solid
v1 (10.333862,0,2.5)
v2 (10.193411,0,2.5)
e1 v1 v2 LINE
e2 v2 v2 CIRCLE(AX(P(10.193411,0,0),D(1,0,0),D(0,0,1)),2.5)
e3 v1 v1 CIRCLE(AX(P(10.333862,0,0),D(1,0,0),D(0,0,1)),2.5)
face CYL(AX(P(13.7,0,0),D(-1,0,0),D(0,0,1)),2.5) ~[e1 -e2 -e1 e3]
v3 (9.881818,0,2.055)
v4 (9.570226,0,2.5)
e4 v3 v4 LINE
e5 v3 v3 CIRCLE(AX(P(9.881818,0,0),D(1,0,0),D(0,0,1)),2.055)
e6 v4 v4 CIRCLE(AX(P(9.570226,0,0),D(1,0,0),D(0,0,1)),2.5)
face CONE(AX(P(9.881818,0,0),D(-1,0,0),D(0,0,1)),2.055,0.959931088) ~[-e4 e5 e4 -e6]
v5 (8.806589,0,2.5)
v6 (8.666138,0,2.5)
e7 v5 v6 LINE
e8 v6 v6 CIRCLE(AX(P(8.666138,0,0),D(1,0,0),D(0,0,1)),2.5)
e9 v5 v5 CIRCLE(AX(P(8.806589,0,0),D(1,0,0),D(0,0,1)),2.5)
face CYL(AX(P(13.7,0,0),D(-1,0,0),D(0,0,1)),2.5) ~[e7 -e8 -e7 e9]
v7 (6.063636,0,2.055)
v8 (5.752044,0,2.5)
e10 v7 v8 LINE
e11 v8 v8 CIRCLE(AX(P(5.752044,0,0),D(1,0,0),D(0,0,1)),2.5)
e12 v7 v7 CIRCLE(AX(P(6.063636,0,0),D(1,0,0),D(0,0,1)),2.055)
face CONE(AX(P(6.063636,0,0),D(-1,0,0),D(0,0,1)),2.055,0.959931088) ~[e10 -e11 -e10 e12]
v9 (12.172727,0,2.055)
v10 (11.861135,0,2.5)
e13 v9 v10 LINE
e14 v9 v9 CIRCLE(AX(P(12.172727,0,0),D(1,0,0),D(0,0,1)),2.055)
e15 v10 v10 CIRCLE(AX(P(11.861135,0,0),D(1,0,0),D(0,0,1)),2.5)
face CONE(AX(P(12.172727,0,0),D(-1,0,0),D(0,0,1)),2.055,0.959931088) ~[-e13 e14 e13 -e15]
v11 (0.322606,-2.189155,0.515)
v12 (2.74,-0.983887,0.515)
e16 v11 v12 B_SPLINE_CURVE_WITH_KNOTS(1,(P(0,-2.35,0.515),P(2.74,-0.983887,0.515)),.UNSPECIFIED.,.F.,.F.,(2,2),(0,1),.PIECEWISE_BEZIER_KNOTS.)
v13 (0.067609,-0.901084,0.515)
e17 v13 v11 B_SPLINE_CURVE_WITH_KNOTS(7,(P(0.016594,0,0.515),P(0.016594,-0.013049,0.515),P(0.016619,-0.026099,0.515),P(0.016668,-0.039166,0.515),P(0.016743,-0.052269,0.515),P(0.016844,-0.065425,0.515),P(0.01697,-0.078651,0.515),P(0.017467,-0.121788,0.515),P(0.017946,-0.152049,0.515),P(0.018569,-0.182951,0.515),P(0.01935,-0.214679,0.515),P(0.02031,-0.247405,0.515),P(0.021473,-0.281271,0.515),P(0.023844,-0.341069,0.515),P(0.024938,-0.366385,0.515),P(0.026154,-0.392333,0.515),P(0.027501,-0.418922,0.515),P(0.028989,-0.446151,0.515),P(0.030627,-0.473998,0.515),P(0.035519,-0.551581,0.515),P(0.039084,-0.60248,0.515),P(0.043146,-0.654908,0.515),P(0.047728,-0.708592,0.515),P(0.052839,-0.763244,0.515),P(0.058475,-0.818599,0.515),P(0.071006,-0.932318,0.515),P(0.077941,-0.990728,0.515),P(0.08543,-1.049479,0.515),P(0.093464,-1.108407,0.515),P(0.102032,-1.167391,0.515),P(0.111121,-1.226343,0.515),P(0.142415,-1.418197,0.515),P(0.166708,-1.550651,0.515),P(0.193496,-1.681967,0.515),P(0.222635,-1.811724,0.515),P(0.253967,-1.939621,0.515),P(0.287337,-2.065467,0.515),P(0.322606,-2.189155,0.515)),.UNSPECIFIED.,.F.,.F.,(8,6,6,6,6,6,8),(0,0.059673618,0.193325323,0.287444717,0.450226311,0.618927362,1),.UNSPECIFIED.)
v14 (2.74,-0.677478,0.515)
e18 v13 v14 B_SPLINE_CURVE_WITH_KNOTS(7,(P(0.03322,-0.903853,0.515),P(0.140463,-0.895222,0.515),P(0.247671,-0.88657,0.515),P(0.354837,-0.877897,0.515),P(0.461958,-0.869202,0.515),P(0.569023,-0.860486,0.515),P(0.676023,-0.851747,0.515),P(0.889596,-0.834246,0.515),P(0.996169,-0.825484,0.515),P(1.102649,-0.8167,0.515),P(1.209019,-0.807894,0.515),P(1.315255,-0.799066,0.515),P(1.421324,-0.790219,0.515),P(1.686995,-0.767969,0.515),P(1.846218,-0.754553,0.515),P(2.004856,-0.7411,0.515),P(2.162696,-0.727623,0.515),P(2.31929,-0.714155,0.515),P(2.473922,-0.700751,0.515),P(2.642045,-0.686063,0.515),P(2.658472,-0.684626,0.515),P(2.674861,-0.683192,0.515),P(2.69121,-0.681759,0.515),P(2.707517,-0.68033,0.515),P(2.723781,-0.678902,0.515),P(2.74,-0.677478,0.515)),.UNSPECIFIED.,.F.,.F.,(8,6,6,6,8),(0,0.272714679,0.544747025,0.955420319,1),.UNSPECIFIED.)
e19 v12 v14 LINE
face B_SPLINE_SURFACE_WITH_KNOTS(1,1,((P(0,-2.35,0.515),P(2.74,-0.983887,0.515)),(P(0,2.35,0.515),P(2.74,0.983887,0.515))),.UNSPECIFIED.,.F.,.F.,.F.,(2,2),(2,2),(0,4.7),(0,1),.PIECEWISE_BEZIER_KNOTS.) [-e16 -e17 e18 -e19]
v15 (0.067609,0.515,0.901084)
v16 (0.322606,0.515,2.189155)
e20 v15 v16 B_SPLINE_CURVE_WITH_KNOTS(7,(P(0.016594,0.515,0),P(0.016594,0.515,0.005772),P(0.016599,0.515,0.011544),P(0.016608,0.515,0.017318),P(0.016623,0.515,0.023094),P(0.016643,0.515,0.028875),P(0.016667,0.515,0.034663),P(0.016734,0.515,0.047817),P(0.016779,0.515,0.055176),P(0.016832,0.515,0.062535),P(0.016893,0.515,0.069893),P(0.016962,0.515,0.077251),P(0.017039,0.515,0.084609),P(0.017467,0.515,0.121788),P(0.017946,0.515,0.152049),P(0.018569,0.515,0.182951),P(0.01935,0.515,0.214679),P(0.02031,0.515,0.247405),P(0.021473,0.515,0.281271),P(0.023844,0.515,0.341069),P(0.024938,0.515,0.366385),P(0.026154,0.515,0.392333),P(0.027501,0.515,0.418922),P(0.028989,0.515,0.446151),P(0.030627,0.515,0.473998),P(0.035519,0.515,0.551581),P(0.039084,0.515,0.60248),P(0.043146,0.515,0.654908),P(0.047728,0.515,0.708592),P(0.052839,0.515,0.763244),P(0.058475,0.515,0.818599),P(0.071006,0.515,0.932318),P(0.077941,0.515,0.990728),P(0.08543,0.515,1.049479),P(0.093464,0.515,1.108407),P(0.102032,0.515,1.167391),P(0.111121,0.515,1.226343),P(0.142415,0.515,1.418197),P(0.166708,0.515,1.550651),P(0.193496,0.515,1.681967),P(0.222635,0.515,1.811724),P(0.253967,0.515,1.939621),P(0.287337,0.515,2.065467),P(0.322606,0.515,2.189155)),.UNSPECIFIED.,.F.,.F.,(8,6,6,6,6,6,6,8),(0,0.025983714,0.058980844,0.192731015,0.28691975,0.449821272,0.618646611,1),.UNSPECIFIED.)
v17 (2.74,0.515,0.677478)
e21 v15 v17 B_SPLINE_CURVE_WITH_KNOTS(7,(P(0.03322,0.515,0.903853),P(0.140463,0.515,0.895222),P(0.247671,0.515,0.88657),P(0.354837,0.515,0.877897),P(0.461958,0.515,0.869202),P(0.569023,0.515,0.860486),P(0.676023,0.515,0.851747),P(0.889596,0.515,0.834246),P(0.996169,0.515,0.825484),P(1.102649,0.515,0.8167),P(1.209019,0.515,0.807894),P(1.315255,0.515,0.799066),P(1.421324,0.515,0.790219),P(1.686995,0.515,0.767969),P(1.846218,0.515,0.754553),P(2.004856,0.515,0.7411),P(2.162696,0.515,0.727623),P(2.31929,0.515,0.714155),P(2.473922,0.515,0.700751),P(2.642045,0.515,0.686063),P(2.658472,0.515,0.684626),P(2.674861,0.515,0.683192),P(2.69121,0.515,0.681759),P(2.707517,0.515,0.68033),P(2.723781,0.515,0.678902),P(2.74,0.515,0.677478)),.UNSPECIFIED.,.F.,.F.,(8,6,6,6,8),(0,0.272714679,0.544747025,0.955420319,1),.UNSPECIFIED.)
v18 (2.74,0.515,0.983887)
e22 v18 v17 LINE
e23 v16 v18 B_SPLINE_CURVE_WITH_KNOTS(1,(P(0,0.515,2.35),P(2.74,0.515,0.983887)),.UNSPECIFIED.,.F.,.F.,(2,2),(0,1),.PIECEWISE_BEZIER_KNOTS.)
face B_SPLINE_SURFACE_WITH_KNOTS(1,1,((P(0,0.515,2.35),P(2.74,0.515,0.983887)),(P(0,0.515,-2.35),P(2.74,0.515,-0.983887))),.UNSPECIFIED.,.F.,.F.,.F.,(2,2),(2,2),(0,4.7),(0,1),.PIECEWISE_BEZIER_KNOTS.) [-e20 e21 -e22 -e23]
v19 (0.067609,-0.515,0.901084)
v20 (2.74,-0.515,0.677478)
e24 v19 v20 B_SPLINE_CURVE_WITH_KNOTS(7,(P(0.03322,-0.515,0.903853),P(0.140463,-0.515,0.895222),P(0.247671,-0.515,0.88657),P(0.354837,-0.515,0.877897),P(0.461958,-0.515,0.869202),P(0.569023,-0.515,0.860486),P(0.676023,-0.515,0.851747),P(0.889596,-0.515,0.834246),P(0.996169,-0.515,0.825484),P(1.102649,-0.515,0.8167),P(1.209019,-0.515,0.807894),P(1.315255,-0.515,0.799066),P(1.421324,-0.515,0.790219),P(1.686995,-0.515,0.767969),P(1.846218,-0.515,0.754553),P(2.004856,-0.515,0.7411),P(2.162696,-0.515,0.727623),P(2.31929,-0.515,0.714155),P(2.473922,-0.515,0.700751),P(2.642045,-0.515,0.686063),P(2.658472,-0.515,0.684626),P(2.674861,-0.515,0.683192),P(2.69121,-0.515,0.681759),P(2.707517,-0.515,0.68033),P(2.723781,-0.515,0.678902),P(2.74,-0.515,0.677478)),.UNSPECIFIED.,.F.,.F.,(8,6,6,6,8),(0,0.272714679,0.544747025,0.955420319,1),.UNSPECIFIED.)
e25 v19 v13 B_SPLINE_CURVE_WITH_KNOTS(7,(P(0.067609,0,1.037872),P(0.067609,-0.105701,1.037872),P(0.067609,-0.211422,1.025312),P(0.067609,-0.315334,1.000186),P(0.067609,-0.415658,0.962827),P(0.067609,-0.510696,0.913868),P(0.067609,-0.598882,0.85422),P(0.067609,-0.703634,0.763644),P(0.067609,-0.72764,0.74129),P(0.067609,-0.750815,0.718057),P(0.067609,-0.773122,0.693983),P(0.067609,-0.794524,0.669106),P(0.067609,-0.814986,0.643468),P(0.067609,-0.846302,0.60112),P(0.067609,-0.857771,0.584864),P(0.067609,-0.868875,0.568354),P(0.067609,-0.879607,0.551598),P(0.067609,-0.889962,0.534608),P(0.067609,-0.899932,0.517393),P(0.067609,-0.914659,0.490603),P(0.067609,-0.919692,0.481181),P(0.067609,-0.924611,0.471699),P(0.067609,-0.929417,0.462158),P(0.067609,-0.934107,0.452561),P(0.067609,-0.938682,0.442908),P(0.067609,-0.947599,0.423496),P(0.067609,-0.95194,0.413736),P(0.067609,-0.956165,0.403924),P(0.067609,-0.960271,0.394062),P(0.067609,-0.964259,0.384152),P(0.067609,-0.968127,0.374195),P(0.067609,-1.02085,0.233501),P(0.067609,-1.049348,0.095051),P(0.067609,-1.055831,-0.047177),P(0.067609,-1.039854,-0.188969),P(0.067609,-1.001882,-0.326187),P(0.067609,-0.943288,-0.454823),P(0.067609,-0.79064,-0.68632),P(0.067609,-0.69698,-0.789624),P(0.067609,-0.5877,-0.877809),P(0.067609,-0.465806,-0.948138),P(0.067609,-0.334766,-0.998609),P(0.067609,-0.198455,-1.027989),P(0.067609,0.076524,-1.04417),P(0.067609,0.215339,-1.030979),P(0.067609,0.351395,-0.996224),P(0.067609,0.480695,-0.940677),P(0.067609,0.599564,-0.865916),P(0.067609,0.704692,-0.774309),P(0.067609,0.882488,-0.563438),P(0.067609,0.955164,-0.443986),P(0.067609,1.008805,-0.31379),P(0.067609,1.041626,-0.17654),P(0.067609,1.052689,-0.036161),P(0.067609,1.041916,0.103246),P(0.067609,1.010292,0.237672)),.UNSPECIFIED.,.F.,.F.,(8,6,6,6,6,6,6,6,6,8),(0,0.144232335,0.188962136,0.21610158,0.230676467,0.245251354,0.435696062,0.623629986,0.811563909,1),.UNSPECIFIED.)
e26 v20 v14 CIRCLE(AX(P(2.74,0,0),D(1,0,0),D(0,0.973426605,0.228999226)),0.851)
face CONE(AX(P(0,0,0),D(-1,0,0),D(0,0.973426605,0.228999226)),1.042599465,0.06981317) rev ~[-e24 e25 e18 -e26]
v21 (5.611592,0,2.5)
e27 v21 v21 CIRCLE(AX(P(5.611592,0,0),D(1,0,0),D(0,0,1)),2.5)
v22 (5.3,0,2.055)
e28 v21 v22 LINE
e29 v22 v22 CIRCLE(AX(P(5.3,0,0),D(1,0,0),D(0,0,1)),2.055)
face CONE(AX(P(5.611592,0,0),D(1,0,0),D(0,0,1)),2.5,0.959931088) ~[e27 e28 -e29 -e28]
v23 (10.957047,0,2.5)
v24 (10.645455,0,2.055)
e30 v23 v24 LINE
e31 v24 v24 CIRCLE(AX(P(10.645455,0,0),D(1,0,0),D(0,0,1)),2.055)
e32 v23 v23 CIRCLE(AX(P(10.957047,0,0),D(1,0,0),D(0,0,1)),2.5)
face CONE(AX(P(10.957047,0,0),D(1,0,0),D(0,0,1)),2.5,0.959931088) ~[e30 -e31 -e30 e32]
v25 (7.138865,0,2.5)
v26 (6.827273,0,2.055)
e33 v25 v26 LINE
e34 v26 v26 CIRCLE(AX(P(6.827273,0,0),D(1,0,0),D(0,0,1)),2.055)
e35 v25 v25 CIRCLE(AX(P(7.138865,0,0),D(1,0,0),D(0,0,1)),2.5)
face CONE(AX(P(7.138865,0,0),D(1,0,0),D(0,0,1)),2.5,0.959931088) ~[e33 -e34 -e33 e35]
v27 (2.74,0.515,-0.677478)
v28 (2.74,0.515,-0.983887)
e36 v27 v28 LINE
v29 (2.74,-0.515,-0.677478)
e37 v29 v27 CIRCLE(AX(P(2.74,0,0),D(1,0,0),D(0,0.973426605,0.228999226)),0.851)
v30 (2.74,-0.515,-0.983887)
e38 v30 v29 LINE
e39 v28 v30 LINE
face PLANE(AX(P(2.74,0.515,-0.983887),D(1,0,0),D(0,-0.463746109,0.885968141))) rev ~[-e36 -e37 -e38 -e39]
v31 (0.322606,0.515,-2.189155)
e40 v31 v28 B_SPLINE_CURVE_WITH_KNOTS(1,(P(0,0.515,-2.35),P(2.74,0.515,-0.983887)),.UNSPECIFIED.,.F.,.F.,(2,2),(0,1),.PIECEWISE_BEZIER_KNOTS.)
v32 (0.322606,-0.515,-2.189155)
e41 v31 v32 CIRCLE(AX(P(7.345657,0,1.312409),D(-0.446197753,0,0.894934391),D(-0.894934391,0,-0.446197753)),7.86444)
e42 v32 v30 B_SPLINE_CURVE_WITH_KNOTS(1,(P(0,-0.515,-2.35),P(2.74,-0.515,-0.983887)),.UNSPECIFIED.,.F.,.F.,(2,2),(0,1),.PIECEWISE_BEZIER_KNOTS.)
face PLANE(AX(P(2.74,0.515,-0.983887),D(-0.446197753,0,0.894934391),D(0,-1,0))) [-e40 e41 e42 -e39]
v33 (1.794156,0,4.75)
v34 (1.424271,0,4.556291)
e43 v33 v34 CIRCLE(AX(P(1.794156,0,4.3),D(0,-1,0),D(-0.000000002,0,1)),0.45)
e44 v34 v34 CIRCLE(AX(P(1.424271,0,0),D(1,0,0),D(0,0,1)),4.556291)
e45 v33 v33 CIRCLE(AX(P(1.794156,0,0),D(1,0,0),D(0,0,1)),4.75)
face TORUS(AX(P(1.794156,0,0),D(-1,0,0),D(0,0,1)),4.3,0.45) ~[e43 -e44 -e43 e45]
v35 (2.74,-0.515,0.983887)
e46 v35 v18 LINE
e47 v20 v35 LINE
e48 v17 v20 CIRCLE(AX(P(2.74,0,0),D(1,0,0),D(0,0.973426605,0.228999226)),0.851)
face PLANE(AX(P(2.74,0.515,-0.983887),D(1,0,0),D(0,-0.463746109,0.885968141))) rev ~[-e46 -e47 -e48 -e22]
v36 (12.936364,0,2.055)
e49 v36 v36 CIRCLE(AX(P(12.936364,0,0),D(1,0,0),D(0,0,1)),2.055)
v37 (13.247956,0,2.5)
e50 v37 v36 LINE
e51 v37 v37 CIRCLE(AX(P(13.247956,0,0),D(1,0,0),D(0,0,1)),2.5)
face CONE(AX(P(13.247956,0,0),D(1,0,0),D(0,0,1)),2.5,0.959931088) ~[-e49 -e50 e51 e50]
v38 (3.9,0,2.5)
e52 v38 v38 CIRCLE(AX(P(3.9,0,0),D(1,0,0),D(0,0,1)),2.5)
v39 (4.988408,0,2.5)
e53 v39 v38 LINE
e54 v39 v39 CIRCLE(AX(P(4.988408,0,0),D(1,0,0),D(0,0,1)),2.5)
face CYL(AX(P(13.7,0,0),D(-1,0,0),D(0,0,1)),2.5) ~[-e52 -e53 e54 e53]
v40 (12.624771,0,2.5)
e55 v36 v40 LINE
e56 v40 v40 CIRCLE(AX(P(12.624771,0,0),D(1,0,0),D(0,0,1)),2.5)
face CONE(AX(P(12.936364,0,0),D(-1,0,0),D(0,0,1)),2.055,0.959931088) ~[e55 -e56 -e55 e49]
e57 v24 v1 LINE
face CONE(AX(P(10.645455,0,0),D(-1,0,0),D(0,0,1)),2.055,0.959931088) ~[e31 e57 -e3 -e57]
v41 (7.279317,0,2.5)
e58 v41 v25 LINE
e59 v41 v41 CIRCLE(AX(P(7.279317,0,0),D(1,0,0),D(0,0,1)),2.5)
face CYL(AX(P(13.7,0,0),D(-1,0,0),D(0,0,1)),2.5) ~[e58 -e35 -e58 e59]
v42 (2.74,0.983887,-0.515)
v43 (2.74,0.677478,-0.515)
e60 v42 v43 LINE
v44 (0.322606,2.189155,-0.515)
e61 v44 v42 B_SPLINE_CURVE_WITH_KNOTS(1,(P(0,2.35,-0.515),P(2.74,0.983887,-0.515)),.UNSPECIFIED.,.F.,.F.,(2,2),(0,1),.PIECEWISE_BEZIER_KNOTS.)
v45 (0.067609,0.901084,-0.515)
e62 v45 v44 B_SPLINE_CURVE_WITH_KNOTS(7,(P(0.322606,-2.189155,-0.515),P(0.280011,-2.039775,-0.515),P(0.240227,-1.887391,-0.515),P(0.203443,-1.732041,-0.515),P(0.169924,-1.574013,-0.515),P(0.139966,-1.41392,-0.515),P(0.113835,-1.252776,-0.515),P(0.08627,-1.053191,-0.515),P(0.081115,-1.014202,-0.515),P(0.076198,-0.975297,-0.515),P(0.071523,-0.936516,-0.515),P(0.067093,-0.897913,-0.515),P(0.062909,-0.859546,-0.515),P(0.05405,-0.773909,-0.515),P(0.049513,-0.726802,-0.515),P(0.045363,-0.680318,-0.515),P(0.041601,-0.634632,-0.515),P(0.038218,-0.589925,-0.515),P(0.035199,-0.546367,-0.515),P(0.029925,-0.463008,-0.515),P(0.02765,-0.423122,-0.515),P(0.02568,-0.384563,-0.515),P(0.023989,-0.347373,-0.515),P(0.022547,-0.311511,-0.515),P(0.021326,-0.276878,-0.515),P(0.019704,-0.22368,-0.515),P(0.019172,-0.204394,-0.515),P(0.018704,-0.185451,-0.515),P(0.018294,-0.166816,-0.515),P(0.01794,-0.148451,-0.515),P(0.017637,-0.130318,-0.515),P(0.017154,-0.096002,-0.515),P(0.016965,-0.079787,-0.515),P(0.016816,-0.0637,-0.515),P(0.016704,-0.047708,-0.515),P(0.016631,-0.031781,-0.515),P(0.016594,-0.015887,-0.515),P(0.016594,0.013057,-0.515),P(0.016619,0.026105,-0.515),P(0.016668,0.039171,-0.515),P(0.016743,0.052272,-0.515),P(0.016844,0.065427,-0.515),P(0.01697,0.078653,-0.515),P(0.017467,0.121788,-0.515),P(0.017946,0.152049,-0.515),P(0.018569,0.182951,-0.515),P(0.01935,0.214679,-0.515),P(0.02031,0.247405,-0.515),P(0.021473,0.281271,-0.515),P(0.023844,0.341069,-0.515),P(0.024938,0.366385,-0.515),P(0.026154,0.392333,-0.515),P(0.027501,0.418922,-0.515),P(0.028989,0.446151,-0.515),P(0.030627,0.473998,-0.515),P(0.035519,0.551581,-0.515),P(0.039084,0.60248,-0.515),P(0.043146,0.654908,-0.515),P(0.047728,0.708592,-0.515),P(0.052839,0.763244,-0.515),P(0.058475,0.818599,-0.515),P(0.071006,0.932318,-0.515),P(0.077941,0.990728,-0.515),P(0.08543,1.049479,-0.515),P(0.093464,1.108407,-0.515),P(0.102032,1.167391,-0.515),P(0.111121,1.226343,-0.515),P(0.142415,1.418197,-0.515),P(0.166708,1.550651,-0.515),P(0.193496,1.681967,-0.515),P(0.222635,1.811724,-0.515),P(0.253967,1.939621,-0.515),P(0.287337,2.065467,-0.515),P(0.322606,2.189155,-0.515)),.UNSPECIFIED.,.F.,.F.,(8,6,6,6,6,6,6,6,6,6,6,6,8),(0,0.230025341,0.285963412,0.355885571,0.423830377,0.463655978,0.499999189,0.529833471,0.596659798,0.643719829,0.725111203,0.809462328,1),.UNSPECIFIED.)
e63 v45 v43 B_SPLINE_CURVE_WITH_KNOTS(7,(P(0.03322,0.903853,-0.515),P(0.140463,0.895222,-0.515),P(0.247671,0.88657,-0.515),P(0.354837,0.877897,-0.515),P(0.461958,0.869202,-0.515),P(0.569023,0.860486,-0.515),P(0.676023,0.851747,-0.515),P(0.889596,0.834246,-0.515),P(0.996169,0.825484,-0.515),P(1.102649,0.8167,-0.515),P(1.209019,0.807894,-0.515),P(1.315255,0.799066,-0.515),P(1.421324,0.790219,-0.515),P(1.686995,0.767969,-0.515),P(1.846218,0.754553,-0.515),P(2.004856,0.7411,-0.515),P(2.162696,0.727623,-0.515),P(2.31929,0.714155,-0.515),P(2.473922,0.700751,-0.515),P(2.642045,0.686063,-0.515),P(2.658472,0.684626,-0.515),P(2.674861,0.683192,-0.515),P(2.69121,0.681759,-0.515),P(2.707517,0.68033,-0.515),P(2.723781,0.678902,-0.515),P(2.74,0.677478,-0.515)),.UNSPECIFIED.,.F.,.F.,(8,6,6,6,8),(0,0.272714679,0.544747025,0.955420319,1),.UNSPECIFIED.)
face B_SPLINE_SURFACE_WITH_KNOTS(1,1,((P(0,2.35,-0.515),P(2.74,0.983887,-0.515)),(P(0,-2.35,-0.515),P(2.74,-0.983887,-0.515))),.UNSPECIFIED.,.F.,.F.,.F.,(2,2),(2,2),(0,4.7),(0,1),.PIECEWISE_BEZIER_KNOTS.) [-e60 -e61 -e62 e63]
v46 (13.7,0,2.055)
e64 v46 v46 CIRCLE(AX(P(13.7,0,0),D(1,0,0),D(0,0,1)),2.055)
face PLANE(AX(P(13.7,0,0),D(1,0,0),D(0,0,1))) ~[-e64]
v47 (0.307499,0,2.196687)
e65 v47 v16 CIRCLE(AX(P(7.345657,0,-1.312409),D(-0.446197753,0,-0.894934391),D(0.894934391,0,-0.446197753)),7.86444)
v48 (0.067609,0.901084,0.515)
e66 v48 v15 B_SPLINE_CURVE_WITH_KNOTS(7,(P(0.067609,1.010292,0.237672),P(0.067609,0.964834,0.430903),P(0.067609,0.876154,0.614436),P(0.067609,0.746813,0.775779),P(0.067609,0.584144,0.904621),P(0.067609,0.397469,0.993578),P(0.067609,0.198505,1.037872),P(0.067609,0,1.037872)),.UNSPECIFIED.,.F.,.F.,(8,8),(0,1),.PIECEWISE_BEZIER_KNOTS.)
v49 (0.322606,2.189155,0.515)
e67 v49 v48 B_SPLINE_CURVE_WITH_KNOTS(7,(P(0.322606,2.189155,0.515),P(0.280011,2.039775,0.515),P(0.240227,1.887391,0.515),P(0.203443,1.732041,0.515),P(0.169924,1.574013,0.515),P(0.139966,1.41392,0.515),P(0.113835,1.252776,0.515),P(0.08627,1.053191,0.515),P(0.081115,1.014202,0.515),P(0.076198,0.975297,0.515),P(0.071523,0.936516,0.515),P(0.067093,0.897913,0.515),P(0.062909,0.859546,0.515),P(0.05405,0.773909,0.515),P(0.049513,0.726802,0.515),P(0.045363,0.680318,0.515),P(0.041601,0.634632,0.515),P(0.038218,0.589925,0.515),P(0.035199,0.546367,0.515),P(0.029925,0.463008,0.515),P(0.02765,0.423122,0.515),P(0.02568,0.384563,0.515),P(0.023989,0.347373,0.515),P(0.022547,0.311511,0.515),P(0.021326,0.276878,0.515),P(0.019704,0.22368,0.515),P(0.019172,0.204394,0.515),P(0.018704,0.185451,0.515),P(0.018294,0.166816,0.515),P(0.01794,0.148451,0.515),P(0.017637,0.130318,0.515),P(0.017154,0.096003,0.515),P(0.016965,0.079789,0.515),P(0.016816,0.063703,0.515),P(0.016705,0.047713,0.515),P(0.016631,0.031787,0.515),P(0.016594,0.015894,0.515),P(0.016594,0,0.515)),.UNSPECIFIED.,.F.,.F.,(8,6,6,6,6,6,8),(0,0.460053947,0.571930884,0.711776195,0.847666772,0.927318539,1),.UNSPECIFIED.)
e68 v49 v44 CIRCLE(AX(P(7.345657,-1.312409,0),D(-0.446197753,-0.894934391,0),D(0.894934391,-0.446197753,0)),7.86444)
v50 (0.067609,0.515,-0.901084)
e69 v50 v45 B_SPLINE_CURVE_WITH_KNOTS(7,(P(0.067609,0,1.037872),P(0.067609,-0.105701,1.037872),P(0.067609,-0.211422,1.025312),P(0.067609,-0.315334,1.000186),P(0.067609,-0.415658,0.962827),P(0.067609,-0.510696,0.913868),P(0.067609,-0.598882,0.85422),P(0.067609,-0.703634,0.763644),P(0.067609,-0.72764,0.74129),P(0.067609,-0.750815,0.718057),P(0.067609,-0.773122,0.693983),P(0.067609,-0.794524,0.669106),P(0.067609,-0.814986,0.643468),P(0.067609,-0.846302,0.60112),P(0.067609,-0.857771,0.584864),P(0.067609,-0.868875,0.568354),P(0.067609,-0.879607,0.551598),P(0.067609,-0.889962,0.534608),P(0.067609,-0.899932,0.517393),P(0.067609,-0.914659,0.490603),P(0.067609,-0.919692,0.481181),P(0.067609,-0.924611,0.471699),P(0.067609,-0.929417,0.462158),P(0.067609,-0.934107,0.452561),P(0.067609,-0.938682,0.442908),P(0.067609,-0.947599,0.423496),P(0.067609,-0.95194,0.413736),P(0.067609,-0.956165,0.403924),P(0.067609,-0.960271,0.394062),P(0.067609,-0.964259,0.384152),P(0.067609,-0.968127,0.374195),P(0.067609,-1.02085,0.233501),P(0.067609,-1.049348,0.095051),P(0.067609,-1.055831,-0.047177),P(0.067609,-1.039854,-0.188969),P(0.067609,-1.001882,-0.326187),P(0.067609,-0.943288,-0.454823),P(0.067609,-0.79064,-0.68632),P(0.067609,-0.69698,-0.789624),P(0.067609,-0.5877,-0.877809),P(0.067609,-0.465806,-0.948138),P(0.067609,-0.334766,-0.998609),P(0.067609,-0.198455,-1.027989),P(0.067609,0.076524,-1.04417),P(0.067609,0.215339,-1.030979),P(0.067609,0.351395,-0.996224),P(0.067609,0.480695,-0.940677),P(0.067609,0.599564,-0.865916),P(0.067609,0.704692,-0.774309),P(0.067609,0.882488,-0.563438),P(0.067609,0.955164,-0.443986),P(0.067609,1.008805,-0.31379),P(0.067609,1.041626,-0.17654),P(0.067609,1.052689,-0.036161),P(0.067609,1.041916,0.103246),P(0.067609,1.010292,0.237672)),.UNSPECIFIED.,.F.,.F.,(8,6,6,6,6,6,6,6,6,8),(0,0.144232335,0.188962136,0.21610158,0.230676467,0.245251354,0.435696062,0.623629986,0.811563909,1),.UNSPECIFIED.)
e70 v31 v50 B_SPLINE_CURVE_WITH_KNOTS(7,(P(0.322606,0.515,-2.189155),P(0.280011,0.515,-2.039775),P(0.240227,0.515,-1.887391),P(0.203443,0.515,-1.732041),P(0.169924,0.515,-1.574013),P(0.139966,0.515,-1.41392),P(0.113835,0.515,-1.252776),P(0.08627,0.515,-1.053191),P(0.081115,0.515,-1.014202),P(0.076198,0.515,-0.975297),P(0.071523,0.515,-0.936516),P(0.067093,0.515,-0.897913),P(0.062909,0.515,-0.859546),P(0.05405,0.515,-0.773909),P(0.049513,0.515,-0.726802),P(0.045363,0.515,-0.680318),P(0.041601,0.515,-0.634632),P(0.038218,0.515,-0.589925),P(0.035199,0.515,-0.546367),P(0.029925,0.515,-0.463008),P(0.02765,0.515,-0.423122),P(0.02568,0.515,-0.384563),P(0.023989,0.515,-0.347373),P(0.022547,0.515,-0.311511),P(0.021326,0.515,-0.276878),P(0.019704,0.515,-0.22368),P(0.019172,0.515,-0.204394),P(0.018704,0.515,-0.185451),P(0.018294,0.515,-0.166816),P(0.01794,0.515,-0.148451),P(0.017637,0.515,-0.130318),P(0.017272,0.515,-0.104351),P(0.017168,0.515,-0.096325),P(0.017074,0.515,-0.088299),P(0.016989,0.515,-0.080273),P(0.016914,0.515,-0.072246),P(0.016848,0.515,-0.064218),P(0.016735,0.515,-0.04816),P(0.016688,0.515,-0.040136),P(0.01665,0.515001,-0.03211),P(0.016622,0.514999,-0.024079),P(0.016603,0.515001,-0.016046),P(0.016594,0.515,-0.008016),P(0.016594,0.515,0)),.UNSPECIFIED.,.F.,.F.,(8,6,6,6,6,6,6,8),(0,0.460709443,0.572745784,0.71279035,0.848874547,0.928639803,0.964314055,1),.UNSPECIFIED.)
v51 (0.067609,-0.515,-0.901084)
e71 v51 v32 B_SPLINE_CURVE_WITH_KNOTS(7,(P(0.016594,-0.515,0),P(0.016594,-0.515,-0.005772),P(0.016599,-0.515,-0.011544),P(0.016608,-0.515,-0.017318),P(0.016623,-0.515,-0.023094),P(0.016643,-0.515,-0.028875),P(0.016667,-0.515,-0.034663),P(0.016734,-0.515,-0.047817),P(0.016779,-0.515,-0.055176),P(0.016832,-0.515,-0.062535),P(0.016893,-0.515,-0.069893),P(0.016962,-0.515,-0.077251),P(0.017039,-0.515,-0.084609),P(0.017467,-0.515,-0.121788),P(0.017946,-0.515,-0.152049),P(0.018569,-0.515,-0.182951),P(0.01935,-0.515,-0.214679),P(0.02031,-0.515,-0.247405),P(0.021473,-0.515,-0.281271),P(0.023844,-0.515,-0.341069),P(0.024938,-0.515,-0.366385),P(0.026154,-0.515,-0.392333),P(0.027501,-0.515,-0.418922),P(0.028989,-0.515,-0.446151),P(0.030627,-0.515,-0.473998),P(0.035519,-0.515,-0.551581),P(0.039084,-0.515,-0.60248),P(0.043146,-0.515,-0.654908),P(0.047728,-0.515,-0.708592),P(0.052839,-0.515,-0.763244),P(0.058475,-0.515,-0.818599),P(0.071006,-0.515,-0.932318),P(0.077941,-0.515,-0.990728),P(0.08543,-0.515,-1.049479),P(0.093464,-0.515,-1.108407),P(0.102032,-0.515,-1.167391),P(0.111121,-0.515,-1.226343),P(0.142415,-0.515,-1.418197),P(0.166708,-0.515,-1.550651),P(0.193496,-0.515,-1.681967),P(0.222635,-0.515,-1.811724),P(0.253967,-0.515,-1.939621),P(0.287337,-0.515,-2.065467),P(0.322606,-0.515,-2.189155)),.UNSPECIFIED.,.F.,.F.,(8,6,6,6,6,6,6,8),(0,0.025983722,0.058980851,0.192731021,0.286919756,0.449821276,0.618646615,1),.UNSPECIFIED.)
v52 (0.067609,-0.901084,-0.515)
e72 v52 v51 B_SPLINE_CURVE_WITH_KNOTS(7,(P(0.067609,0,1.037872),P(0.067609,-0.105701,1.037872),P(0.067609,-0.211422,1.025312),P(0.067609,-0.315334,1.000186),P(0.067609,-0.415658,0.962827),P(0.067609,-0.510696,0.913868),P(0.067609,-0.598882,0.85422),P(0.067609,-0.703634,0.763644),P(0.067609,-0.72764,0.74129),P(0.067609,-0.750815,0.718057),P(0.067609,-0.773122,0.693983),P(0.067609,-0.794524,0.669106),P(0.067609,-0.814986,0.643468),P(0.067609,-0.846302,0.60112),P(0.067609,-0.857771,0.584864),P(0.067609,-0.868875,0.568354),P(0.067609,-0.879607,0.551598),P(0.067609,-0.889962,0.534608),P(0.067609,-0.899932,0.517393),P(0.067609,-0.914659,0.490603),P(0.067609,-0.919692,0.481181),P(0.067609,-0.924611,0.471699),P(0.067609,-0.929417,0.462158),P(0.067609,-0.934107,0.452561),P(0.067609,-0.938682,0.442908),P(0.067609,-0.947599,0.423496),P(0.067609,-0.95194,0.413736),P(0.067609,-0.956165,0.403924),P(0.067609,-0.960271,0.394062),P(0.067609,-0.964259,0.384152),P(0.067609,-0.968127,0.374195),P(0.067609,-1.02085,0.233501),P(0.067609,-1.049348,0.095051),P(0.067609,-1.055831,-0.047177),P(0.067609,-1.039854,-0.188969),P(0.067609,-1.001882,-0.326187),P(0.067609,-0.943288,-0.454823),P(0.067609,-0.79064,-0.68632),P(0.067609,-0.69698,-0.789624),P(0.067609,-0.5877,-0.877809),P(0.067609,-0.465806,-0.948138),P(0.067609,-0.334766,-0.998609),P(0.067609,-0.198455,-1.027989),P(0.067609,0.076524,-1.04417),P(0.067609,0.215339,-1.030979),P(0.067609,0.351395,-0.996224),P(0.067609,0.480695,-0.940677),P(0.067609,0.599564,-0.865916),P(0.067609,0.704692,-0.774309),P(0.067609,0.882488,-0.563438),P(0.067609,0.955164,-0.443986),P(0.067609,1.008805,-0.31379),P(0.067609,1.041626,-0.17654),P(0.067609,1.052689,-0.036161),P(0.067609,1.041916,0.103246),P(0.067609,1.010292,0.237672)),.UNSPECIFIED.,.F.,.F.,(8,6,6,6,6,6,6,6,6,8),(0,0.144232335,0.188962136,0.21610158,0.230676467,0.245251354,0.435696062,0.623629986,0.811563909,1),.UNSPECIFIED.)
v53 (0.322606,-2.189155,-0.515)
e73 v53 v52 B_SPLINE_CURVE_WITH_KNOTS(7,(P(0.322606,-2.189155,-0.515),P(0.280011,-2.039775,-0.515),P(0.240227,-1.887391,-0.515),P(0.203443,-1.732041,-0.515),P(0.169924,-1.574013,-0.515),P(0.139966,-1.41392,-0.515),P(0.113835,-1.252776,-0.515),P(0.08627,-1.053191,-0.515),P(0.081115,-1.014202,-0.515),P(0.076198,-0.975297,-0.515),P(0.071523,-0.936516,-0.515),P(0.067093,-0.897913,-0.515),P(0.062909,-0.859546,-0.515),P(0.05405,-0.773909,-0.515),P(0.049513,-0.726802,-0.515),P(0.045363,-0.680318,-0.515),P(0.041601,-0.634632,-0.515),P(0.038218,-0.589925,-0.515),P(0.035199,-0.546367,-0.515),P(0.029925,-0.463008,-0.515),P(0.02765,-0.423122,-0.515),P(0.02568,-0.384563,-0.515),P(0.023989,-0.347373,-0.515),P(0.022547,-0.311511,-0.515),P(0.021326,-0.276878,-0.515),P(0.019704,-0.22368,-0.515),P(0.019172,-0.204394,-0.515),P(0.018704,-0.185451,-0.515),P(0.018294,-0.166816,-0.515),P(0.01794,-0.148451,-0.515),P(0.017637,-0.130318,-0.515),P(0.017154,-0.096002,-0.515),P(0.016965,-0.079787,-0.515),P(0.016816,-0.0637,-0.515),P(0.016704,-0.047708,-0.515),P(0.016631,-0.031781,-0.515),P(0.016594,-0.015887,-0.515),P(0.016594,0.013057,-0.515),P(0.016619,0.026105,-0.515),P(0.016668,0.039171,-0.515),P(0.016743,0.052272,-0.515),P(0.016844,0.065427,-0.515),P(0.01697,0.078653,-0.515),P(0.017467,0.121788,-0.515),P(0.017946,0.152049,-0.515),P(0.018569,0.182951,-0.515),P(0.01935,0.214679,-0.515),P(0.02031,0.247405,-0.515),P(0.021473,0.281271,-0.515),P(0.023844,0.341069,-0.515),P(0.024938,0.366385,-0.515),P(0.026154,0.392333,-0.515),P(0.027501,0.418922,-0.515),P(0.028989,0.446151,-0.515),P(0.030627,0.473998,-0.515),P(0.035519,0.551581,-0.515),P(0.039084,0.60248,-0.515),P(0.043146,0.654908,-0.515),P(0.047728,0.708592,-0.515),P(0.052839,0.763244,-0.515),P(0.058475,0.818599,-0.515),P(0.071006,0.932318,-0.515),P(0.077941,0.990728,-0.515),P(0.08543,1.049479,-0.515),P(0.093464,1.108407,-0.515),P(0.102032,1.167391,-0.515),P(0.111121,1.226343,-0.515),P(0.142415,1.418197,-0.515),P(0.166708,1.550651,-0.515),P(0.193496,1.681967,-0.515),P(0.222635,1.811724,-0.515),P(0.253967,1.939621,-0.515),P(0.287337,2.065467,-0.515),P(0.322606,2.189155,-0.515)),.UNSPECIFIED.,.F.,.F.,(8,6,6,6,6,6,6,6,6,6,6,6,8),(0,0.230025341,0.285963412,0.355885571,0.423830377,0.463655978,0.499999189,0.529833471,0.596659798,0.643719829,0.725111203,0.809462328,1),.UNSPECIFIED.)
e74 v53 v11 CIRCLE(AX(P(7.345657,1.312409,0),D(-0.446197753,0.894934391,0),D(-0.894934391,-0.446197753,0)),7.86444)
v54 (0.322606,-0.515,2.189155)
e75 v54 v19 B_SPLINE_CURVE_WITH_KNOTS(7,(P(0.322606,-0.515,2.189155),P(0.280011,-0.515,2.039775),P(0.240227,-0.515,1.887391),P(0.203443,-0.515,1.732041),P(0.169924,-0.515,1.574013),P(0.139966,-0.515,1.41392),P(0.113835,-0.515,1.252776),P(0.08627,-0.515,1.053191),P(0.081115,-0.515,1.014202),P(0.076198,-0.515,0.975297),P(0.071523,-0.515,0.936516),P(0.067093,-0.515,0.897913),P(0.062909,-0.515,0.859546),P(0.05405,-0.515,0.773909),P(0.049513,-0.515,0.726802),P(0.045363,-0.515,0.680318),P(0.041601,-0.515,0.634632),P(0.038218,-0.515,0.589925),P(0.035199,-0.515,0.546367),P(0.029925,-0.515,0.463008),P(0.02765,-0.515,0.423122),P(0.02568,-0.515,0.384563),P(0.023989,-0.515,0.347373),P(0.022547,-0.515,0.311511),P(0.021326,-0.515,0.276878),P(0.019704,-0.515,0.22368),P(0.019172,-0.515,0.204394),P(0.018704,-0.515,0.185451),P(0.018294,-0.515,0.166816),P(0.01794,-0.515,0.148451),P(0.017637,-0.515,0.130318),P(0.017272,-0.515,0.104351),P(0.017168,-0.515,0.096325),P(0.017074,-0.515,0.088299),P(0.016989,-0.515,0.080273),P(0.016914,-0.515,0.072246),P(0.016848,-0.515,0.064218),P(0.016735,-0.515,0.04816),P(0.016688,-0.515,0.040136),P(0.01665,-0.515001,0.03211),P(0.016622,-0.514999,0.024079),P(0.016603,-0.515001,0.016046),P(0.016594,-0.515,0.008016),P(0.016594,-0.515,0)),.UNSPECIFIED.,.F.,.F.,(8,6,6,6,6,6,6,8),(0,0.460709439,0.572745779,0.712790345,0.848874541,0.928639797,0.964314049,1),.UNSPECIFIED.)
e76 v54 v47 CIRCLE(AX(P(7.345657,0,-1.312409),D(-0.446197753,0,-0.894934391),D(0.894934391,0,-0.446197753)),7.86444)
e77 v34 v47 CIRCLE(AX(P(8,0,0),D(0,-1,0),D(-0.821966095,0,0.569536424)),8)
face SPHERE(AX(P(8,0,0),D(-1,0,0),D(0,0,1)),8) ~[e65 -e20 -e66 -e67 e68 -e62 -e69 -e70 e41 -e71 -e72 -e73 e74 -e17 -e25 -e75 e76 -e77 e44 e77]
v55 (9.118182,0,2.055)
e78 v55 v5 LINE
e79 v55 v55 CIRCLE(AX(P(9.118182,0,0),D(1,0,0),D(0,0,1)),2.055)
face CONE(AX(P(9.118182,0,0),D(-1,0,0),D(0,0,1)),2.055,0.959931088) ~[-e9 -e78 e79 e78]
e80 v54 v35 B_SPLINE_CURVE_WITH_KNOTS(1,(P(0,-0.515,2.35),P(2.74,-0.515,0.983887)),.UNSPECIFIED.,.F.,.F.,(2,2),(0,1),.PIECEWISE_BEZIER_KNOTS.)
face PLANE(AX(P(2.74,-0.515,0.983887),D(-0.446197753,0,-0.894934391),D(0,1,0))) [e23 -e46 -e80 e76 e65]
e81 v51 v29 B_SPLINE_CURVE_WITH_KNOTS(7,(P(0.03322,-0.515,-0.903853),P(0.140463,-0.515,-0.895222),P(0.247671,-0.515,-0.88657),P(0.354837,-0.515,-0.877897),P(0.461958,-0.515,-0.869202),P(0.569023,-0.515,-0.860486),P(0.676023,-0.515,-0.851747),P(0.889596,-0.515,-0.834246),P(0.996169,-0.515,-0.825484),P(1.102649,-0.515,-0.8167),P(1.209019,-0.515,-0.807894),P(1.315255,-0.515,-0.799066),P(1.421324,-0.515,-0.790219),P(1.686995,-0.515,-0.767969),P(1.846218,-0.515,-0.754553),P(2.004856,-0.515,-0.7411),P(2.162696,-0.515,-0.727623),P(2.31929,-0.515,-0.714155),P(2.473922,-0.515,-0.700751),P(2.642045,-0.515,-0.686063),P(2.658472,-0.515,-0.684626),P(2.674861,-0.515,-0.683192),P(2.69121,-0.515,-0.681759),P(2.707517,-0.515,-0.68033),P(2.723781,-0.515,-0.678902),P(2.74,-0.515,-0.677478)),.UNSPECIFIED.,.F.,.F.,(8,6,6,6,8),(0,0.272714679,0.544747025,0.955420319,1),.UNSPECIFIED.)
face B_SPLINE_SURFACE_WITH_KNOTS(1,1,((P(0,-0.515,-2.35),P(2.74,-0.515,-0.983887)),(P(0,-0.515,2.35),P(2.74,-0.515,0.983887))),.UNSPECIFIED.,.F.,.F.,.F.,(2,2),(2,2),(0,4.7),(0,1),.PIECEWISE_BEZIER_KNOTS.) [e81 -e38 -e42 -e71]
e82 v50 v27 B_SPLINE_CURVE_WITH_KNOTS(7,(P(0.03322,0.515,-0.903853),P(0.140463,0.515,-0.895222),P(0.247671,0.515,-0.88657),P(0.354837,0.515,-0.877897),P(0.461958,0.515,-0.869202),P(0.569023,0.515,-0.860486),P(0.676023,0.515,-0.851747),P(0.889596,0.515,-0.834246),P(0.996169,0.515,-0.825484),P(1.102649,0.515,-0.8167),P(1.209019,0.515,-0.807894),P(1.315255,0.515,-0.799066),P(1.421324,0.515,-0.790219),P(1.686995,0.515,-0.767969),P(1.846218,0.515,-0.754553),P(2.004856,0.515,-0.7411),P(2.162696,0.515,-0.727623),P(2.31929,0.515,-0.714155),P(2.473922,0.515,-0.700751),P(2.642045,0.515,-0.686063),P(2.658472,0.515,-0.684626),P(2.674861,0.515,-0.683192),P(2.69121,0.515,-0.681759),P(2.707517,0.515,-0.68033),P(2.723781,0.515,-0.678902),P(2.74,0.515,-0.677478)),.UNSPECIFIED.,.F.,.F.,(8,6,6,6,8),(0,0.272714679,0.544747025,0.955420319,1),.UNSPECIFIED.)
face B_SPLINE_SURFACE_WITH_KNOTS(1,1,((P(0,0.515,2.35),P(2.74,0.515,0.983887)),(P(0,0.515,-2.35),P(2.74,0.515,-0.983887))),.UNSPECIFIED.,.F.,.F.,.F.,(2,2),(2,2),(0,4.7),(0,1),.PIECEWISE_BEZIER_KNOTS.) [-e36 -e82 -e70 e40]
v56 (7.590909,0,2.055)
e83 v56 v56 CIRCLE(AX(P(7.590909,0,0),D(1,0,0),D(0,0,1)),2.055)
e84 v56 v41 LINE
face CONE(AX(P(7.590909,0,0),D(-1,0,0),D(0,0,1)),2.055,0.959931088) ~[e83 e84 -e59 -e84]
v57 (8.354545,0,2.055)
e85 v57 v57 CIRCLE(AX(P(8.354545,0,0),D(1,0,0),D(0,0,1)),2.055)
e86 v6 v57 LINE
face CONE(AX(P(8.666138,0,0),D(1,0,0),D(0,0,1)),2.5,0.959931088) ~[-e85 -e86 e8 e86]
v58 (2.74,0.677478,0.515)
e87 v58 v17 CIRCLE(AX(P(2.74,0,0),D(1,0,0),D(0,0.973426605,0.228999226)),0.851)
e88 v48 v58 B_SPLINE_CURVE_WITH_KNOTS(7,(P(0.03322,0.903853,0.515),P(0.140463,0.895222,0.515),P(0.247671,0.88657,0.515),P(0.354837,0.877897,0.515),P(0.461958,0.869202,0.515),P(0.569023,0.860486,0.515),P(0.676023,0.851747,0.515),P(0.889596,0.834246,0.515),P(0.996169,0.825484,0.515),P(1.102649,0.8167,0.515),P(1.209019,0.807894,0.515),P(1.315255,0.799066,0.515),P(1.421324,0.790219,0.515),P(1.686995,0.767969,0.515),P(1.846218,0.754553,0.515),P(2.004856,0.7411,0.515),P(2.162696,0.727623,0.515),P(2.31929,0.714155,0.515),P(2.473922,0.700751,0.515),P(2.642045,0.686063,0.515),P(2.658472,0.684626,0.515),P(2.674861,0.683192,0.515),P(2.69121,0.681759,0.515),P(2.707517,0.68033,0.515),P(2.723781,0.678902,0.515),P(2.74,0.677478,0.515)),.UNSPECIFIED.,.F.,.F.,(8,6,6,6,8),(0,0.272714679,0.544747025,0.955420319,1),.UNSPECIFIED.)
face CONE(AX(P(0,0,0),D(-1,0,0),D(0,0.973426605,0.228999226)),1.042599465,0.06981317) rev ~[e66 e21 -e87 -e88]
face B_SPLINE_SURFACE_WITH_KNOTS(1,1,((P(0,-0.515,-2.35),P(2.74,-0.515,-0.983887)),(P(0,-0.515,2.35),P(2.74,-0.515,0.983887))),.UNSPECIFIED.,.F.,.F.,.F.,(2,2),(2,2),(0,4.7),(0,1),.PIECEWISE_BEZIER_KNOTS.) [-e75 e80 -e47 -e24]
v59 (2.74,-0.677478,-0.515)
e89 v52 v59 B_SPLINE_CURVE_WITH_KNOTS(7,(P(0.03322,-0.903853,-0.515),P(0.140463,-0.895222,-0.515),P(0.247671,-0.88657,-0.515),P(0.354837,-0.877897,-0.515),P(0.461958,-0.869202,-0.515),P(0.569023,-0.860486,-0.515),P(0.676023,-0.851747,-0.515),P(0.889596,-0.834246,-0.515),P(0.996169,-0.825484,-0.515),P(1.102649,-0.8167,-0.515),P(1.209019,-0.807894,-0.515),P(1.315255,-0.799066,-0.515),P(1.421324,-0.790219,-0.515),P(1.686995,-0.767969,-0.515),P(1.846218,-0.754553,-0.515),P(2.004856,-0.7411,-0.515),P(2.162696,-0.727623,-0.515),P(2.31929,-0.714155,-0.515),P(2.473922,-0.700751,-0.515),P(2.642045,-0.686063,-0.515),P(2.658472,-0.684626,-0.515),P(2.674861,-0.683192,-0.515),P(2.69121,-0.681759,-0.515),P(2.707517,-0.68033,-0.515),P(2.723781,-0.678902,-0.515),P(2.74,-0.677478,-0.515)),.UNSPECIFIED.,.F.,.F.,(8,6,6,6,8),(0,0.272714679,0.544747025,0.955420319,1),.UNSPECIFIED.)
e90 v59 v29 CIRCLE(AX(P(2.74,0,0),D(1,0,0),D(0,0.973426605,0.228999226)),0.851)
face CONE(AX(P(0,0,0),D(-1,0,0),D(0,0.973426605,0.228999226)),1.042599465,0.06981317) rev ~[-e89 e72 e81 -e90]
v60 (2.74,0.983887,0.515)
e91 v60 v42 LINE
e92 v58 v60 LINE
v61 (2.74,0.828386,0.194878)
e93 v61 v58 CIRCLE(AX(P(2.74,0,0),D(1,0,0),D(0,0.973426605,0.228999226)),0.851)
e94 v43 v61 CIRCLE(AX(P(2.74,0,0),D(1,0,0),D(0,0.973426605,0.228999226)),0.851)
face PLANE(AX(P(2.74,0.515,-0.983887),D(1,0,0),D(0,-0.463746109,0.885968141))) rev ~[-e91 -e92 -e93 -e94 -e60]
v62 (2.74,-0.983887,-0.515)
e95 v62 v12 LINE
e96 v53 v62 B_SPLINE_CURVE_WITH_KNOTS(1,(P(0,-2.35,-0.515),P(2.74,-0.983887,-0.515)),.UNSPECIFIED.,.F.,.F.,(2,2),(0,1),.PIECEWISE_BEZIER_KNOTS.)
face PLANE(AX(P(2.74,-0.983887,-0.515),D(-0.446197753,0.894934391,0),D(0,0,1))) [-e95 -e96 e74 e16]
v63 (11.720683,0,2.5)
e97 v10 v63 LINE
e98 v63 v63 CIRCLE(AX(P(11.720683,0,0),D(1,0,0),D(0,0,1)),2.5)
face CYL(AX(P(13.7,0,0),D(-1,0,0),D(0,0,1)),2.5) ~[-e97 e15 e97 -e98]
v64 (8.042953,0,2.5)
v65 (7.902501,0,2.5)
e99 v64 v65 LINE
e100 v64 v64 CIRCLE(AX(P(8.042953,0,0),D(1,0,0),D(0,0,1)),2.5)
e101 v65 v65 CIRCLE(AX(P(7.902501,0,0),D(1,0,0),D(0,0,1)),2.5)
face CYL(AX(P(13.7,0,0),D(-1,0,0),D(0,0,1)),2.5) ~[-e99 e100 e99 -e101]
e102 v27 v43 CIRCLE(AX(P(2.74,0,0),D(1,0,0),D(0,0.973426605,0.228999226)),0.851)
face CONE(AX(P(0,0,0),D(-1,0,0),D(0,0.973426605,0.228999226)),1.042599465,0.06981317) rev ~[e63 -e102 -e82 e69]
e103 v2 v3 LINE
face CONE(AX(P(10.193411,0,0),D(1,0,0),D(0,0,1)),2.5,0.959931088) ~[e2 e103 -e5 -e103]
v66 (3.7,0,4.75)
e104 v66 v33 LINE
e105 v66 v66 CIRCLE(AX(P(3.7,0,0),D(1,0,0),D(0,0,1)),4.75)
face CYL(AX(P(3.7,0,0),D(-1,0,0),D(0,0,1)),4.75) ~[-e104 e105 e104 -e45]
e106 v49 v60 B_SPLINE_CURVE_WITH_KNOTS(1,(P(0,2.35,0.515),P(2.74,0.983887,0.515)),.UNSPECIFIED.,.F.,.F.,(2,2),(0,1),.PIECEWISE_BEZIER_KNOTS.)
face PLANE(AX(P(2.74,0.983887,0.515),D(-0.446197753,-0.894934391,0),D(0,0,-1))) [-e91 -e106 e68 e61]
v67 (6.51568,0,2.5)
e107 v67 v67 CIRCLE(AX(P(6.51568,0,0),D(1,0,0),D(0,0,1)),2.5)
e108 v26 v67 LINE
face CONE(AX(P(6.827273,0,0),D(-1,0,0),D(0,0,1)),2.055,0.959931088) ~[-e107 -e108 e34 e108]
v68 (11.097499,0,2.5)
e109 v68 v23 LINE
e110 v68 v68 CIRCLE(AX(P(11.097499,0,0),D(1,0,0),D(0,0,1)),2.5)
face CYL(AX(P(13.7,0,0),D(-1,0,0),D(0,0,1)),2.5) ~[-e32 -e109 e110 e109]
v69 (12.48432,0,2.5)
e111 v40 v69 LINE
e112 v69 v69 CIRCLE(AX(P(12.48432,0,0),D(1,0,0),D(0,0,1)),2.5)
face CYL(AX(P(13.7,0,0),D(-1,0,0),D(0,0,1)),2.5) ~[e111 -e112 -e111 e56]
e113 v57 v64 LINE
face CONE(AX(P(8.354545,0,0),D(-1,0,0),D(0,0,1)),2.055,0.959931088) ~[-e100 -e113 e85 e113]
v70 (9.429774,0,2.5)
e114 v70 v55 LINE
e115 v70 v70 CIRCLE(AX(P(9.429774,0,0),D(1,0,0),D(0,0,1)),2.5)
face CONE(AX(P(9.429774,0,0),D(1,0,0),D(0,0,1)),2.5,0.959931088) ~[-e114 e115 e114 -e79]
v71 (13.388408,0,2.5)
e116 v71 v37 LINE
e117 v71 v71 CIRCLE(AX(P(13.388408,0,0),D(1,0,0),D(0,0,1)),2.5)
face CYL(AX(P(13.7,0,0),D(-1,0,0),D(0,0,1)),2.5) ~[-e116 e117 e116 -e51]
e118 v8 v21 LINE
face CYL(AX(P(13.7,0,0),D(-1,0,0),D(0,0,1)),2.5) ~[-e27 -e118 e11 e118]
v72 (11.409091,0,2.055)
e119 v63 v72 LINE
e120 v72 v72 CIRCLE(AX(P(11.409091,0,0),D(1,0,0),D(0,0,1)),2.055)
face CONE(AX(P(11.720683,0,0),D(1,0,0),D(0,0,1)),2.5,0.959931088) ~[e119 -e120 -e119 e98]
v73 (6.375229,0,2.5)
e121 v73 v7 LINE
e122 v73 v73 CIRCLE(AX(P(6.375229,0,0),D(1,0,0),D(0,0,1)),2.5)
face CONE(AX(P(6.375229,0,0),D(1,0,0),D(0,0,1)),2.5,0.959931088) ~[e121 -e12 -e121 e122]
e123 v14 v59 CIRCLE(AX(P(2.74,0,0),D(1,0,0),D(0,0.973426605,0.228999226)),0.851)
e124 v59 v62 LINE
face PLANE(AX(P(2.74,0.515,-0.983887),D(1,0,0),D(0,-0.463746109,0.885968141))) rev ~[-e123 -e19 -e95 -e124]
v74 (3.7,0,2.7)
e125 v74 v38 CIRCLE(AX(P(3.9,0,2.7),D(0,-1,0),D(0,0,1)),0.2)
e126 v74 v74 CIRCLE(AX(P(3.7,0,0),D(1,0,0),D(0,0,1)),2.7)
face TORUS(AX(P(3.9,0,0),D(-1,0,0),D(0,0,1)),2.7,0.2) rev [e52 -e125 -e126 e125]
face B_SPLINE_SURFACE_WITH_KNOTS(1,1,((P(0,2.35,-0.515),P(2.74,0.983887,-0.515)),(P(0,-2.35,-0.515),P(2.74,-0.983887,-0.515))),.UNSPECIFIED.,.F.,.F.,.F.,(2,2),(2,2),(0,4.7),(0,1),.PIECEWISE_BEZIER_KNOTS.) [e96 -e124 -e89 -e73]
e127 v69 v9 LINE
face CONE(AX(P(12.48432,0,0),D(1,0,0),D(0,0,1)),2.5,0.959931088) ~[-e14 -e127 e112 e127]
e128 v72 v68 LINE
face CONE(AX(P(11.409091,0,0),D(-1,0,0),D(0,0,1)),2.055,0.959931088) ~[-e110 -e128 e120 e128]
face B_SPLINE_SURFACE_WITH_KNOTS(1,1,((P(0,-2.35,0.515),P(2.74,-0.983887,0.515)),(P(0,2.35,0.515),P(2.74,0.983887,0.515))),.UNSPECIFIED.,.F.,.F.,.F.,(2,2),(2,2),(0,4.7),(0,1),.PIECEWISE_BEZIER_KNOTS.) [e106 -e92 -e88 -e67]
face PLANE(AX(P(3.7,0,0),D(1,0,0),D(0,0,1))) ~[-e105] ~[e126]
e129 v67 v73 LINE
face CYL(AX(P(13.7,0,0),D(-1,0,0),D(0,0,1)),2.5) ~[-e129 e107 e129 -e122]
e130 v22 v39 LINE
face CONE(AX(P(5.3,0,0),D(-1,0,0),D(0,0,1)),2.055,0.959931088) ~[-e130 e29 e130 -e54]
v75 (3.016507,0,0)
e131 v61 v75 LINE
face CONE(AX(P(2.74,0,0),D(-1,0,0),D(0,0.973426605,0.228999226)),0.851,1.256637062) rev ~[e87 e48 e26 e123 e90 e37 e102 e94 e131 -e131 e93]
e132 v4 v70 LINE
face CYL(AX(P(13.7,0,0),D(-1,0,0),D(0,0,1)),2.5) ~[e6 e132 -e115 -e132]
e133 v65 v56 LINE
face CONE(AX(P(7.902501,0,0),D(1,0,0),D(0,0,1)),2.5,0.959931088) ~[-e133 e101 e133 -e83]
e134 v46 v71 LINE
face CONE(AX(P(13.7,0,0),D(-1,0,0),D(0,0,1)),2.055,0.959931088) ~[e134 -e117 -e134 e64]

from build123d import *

# Parameters (mm, degrees)
FILLET1_R       = 0.2
RECPAT_COUNT    = 2
RECPAT_ANGLE    = 90
THDSCHPAT_COUNT = 12
THDSCHPAT_PITCH = 0.763636364


with BuildPart() as part:
    # BodySke → Base-Revolve (revolve)
    with BuildSketch(Plane.XY, mode=Mode.PRIVATE) as base_revolve_sk:
        with BuildLine():
            Line((3.7, 2.5), (3.7, 4.75))
            Line((3.7, 4.75), (1.79415598, 4.75))
            ThreePointArc((1.79415598, 4.75), (1.58538712, 4.698642149), (1.424271237, 4.556291391))
            ThreePointArc((1.424271237, 4.556291391), (0.364365445, 2.386856709), (0, 0))
            Line((0, 0), (13.7, 0))
            Line((13.7, 0), (13.7, 2.5))
            Line((13.7, 2.5), (3.7, 2.5))
        make_face()
    revolve(base_revolve_sk.sketch.rotate(Axis((1.79415598, 0, 0), (1, 0, 0)), 90), axis=Axis((1.79415598, 0, 0), (1, 0, 0)))

    # Fillet1
    fillet1_edges = [part.edges().sort_by_distance(p)[0] for p in [
        (3.7, 0, -2.5),
    ]]
    fillet(fillet1_edges, radius=FILLET1_R)

    # Sketch3 → Recess section 0
    with BuildSketch(Plane(origin=(0, 0, 0), x_dir=(0, 0, -1), z_dir=(1, 0, 0))):
        with BuildLine():
            Line((0.515, -2.35), (-0.515, -2.35))
            Line((-0.515, -2.35), (-0.515, 2.35))
            Line((-0.515, 2.35), (0.515, 2.35))
            Line((0.515, 2.35), (0.515, -2.35))
        make_face()
    # Sketch4 → Recess section 1
    with BuildSketch(Plane(origin=(2.74, 0, 0), x_dir=(0, 0, -1), z_dir=(1, 0, 0))):
        with BuildLine():
            Line((0.515, -0.983886622), (-0.515, -0.983886622))
            Line((-0.515, -0.983886622), (-0.515, 0.983886622))
            Line((-0.515, 0.983886622), (0.515, 0.983886622))
            Line((0.515, 0.983886622), (0.515, -0.983886622))
        make_face()
    recess = loft(mode=Mode.SUBTRACT)

    # RecPat: Recess ×2 about axis
    recpat_axis = Axis((0, 0, 0), (1, 0, 0))
    for i in range(1, RECPAT_COUNT):
        add(recess.rotate(recpat_axis, i * RECPAT_ANGLE / (RECPAT_COUNT - 1)), mode=Mode.SUBTRACT)

    # RecCorSke → RecessCore (revolve, cut)
    with BuildSketch(Plane.XY, mode=Mode.PRIVATE) as recesscore_sk:
        Polygon((0, 0), (0, 1.042599465), (2.74, 0.851), (3.016506661, 0), align=None)
    revolve(recesscore_sk.sketch.rotate(Axis((-3.175, 0, 0), (1, 0, 0)), 13.238159177), axis=Axis((-3.175, 0, 0), (1, 0, 0)), mode=Mode.SUBTRACT)

    # ThdSchSke → ThreadSchematic (revolve, cut)
    with BuildSketch(Plane.XY, mode=Mode.PRIVATE) as threadschematic_sk:
        Polygon((5.3, -2.055), (4.988407645, -2.5), (4.988407645, -3.125), (5.611592355, -3.125), (5.611592355, -2.5), align=None)
    threadschematic = revolve(threadschematic_sk.sketch.rotate(Axis((-3.175, 0, 0), (1, 0, 0)), 270), axis=Axis((-3.175, 0, 0), (1, 0, 0)), mode=Mode.SUBTRACT)

    # ThdSchPat: ThreadSchematic ×12
    with Locations(*[(i * THDSCHPAT_PITCH, 0, 0) for i in range(1, THDSCHPAT_COUNT)]):
        add(threadschematic, mode=Mode.SUBTRACT)


solid = part.part
